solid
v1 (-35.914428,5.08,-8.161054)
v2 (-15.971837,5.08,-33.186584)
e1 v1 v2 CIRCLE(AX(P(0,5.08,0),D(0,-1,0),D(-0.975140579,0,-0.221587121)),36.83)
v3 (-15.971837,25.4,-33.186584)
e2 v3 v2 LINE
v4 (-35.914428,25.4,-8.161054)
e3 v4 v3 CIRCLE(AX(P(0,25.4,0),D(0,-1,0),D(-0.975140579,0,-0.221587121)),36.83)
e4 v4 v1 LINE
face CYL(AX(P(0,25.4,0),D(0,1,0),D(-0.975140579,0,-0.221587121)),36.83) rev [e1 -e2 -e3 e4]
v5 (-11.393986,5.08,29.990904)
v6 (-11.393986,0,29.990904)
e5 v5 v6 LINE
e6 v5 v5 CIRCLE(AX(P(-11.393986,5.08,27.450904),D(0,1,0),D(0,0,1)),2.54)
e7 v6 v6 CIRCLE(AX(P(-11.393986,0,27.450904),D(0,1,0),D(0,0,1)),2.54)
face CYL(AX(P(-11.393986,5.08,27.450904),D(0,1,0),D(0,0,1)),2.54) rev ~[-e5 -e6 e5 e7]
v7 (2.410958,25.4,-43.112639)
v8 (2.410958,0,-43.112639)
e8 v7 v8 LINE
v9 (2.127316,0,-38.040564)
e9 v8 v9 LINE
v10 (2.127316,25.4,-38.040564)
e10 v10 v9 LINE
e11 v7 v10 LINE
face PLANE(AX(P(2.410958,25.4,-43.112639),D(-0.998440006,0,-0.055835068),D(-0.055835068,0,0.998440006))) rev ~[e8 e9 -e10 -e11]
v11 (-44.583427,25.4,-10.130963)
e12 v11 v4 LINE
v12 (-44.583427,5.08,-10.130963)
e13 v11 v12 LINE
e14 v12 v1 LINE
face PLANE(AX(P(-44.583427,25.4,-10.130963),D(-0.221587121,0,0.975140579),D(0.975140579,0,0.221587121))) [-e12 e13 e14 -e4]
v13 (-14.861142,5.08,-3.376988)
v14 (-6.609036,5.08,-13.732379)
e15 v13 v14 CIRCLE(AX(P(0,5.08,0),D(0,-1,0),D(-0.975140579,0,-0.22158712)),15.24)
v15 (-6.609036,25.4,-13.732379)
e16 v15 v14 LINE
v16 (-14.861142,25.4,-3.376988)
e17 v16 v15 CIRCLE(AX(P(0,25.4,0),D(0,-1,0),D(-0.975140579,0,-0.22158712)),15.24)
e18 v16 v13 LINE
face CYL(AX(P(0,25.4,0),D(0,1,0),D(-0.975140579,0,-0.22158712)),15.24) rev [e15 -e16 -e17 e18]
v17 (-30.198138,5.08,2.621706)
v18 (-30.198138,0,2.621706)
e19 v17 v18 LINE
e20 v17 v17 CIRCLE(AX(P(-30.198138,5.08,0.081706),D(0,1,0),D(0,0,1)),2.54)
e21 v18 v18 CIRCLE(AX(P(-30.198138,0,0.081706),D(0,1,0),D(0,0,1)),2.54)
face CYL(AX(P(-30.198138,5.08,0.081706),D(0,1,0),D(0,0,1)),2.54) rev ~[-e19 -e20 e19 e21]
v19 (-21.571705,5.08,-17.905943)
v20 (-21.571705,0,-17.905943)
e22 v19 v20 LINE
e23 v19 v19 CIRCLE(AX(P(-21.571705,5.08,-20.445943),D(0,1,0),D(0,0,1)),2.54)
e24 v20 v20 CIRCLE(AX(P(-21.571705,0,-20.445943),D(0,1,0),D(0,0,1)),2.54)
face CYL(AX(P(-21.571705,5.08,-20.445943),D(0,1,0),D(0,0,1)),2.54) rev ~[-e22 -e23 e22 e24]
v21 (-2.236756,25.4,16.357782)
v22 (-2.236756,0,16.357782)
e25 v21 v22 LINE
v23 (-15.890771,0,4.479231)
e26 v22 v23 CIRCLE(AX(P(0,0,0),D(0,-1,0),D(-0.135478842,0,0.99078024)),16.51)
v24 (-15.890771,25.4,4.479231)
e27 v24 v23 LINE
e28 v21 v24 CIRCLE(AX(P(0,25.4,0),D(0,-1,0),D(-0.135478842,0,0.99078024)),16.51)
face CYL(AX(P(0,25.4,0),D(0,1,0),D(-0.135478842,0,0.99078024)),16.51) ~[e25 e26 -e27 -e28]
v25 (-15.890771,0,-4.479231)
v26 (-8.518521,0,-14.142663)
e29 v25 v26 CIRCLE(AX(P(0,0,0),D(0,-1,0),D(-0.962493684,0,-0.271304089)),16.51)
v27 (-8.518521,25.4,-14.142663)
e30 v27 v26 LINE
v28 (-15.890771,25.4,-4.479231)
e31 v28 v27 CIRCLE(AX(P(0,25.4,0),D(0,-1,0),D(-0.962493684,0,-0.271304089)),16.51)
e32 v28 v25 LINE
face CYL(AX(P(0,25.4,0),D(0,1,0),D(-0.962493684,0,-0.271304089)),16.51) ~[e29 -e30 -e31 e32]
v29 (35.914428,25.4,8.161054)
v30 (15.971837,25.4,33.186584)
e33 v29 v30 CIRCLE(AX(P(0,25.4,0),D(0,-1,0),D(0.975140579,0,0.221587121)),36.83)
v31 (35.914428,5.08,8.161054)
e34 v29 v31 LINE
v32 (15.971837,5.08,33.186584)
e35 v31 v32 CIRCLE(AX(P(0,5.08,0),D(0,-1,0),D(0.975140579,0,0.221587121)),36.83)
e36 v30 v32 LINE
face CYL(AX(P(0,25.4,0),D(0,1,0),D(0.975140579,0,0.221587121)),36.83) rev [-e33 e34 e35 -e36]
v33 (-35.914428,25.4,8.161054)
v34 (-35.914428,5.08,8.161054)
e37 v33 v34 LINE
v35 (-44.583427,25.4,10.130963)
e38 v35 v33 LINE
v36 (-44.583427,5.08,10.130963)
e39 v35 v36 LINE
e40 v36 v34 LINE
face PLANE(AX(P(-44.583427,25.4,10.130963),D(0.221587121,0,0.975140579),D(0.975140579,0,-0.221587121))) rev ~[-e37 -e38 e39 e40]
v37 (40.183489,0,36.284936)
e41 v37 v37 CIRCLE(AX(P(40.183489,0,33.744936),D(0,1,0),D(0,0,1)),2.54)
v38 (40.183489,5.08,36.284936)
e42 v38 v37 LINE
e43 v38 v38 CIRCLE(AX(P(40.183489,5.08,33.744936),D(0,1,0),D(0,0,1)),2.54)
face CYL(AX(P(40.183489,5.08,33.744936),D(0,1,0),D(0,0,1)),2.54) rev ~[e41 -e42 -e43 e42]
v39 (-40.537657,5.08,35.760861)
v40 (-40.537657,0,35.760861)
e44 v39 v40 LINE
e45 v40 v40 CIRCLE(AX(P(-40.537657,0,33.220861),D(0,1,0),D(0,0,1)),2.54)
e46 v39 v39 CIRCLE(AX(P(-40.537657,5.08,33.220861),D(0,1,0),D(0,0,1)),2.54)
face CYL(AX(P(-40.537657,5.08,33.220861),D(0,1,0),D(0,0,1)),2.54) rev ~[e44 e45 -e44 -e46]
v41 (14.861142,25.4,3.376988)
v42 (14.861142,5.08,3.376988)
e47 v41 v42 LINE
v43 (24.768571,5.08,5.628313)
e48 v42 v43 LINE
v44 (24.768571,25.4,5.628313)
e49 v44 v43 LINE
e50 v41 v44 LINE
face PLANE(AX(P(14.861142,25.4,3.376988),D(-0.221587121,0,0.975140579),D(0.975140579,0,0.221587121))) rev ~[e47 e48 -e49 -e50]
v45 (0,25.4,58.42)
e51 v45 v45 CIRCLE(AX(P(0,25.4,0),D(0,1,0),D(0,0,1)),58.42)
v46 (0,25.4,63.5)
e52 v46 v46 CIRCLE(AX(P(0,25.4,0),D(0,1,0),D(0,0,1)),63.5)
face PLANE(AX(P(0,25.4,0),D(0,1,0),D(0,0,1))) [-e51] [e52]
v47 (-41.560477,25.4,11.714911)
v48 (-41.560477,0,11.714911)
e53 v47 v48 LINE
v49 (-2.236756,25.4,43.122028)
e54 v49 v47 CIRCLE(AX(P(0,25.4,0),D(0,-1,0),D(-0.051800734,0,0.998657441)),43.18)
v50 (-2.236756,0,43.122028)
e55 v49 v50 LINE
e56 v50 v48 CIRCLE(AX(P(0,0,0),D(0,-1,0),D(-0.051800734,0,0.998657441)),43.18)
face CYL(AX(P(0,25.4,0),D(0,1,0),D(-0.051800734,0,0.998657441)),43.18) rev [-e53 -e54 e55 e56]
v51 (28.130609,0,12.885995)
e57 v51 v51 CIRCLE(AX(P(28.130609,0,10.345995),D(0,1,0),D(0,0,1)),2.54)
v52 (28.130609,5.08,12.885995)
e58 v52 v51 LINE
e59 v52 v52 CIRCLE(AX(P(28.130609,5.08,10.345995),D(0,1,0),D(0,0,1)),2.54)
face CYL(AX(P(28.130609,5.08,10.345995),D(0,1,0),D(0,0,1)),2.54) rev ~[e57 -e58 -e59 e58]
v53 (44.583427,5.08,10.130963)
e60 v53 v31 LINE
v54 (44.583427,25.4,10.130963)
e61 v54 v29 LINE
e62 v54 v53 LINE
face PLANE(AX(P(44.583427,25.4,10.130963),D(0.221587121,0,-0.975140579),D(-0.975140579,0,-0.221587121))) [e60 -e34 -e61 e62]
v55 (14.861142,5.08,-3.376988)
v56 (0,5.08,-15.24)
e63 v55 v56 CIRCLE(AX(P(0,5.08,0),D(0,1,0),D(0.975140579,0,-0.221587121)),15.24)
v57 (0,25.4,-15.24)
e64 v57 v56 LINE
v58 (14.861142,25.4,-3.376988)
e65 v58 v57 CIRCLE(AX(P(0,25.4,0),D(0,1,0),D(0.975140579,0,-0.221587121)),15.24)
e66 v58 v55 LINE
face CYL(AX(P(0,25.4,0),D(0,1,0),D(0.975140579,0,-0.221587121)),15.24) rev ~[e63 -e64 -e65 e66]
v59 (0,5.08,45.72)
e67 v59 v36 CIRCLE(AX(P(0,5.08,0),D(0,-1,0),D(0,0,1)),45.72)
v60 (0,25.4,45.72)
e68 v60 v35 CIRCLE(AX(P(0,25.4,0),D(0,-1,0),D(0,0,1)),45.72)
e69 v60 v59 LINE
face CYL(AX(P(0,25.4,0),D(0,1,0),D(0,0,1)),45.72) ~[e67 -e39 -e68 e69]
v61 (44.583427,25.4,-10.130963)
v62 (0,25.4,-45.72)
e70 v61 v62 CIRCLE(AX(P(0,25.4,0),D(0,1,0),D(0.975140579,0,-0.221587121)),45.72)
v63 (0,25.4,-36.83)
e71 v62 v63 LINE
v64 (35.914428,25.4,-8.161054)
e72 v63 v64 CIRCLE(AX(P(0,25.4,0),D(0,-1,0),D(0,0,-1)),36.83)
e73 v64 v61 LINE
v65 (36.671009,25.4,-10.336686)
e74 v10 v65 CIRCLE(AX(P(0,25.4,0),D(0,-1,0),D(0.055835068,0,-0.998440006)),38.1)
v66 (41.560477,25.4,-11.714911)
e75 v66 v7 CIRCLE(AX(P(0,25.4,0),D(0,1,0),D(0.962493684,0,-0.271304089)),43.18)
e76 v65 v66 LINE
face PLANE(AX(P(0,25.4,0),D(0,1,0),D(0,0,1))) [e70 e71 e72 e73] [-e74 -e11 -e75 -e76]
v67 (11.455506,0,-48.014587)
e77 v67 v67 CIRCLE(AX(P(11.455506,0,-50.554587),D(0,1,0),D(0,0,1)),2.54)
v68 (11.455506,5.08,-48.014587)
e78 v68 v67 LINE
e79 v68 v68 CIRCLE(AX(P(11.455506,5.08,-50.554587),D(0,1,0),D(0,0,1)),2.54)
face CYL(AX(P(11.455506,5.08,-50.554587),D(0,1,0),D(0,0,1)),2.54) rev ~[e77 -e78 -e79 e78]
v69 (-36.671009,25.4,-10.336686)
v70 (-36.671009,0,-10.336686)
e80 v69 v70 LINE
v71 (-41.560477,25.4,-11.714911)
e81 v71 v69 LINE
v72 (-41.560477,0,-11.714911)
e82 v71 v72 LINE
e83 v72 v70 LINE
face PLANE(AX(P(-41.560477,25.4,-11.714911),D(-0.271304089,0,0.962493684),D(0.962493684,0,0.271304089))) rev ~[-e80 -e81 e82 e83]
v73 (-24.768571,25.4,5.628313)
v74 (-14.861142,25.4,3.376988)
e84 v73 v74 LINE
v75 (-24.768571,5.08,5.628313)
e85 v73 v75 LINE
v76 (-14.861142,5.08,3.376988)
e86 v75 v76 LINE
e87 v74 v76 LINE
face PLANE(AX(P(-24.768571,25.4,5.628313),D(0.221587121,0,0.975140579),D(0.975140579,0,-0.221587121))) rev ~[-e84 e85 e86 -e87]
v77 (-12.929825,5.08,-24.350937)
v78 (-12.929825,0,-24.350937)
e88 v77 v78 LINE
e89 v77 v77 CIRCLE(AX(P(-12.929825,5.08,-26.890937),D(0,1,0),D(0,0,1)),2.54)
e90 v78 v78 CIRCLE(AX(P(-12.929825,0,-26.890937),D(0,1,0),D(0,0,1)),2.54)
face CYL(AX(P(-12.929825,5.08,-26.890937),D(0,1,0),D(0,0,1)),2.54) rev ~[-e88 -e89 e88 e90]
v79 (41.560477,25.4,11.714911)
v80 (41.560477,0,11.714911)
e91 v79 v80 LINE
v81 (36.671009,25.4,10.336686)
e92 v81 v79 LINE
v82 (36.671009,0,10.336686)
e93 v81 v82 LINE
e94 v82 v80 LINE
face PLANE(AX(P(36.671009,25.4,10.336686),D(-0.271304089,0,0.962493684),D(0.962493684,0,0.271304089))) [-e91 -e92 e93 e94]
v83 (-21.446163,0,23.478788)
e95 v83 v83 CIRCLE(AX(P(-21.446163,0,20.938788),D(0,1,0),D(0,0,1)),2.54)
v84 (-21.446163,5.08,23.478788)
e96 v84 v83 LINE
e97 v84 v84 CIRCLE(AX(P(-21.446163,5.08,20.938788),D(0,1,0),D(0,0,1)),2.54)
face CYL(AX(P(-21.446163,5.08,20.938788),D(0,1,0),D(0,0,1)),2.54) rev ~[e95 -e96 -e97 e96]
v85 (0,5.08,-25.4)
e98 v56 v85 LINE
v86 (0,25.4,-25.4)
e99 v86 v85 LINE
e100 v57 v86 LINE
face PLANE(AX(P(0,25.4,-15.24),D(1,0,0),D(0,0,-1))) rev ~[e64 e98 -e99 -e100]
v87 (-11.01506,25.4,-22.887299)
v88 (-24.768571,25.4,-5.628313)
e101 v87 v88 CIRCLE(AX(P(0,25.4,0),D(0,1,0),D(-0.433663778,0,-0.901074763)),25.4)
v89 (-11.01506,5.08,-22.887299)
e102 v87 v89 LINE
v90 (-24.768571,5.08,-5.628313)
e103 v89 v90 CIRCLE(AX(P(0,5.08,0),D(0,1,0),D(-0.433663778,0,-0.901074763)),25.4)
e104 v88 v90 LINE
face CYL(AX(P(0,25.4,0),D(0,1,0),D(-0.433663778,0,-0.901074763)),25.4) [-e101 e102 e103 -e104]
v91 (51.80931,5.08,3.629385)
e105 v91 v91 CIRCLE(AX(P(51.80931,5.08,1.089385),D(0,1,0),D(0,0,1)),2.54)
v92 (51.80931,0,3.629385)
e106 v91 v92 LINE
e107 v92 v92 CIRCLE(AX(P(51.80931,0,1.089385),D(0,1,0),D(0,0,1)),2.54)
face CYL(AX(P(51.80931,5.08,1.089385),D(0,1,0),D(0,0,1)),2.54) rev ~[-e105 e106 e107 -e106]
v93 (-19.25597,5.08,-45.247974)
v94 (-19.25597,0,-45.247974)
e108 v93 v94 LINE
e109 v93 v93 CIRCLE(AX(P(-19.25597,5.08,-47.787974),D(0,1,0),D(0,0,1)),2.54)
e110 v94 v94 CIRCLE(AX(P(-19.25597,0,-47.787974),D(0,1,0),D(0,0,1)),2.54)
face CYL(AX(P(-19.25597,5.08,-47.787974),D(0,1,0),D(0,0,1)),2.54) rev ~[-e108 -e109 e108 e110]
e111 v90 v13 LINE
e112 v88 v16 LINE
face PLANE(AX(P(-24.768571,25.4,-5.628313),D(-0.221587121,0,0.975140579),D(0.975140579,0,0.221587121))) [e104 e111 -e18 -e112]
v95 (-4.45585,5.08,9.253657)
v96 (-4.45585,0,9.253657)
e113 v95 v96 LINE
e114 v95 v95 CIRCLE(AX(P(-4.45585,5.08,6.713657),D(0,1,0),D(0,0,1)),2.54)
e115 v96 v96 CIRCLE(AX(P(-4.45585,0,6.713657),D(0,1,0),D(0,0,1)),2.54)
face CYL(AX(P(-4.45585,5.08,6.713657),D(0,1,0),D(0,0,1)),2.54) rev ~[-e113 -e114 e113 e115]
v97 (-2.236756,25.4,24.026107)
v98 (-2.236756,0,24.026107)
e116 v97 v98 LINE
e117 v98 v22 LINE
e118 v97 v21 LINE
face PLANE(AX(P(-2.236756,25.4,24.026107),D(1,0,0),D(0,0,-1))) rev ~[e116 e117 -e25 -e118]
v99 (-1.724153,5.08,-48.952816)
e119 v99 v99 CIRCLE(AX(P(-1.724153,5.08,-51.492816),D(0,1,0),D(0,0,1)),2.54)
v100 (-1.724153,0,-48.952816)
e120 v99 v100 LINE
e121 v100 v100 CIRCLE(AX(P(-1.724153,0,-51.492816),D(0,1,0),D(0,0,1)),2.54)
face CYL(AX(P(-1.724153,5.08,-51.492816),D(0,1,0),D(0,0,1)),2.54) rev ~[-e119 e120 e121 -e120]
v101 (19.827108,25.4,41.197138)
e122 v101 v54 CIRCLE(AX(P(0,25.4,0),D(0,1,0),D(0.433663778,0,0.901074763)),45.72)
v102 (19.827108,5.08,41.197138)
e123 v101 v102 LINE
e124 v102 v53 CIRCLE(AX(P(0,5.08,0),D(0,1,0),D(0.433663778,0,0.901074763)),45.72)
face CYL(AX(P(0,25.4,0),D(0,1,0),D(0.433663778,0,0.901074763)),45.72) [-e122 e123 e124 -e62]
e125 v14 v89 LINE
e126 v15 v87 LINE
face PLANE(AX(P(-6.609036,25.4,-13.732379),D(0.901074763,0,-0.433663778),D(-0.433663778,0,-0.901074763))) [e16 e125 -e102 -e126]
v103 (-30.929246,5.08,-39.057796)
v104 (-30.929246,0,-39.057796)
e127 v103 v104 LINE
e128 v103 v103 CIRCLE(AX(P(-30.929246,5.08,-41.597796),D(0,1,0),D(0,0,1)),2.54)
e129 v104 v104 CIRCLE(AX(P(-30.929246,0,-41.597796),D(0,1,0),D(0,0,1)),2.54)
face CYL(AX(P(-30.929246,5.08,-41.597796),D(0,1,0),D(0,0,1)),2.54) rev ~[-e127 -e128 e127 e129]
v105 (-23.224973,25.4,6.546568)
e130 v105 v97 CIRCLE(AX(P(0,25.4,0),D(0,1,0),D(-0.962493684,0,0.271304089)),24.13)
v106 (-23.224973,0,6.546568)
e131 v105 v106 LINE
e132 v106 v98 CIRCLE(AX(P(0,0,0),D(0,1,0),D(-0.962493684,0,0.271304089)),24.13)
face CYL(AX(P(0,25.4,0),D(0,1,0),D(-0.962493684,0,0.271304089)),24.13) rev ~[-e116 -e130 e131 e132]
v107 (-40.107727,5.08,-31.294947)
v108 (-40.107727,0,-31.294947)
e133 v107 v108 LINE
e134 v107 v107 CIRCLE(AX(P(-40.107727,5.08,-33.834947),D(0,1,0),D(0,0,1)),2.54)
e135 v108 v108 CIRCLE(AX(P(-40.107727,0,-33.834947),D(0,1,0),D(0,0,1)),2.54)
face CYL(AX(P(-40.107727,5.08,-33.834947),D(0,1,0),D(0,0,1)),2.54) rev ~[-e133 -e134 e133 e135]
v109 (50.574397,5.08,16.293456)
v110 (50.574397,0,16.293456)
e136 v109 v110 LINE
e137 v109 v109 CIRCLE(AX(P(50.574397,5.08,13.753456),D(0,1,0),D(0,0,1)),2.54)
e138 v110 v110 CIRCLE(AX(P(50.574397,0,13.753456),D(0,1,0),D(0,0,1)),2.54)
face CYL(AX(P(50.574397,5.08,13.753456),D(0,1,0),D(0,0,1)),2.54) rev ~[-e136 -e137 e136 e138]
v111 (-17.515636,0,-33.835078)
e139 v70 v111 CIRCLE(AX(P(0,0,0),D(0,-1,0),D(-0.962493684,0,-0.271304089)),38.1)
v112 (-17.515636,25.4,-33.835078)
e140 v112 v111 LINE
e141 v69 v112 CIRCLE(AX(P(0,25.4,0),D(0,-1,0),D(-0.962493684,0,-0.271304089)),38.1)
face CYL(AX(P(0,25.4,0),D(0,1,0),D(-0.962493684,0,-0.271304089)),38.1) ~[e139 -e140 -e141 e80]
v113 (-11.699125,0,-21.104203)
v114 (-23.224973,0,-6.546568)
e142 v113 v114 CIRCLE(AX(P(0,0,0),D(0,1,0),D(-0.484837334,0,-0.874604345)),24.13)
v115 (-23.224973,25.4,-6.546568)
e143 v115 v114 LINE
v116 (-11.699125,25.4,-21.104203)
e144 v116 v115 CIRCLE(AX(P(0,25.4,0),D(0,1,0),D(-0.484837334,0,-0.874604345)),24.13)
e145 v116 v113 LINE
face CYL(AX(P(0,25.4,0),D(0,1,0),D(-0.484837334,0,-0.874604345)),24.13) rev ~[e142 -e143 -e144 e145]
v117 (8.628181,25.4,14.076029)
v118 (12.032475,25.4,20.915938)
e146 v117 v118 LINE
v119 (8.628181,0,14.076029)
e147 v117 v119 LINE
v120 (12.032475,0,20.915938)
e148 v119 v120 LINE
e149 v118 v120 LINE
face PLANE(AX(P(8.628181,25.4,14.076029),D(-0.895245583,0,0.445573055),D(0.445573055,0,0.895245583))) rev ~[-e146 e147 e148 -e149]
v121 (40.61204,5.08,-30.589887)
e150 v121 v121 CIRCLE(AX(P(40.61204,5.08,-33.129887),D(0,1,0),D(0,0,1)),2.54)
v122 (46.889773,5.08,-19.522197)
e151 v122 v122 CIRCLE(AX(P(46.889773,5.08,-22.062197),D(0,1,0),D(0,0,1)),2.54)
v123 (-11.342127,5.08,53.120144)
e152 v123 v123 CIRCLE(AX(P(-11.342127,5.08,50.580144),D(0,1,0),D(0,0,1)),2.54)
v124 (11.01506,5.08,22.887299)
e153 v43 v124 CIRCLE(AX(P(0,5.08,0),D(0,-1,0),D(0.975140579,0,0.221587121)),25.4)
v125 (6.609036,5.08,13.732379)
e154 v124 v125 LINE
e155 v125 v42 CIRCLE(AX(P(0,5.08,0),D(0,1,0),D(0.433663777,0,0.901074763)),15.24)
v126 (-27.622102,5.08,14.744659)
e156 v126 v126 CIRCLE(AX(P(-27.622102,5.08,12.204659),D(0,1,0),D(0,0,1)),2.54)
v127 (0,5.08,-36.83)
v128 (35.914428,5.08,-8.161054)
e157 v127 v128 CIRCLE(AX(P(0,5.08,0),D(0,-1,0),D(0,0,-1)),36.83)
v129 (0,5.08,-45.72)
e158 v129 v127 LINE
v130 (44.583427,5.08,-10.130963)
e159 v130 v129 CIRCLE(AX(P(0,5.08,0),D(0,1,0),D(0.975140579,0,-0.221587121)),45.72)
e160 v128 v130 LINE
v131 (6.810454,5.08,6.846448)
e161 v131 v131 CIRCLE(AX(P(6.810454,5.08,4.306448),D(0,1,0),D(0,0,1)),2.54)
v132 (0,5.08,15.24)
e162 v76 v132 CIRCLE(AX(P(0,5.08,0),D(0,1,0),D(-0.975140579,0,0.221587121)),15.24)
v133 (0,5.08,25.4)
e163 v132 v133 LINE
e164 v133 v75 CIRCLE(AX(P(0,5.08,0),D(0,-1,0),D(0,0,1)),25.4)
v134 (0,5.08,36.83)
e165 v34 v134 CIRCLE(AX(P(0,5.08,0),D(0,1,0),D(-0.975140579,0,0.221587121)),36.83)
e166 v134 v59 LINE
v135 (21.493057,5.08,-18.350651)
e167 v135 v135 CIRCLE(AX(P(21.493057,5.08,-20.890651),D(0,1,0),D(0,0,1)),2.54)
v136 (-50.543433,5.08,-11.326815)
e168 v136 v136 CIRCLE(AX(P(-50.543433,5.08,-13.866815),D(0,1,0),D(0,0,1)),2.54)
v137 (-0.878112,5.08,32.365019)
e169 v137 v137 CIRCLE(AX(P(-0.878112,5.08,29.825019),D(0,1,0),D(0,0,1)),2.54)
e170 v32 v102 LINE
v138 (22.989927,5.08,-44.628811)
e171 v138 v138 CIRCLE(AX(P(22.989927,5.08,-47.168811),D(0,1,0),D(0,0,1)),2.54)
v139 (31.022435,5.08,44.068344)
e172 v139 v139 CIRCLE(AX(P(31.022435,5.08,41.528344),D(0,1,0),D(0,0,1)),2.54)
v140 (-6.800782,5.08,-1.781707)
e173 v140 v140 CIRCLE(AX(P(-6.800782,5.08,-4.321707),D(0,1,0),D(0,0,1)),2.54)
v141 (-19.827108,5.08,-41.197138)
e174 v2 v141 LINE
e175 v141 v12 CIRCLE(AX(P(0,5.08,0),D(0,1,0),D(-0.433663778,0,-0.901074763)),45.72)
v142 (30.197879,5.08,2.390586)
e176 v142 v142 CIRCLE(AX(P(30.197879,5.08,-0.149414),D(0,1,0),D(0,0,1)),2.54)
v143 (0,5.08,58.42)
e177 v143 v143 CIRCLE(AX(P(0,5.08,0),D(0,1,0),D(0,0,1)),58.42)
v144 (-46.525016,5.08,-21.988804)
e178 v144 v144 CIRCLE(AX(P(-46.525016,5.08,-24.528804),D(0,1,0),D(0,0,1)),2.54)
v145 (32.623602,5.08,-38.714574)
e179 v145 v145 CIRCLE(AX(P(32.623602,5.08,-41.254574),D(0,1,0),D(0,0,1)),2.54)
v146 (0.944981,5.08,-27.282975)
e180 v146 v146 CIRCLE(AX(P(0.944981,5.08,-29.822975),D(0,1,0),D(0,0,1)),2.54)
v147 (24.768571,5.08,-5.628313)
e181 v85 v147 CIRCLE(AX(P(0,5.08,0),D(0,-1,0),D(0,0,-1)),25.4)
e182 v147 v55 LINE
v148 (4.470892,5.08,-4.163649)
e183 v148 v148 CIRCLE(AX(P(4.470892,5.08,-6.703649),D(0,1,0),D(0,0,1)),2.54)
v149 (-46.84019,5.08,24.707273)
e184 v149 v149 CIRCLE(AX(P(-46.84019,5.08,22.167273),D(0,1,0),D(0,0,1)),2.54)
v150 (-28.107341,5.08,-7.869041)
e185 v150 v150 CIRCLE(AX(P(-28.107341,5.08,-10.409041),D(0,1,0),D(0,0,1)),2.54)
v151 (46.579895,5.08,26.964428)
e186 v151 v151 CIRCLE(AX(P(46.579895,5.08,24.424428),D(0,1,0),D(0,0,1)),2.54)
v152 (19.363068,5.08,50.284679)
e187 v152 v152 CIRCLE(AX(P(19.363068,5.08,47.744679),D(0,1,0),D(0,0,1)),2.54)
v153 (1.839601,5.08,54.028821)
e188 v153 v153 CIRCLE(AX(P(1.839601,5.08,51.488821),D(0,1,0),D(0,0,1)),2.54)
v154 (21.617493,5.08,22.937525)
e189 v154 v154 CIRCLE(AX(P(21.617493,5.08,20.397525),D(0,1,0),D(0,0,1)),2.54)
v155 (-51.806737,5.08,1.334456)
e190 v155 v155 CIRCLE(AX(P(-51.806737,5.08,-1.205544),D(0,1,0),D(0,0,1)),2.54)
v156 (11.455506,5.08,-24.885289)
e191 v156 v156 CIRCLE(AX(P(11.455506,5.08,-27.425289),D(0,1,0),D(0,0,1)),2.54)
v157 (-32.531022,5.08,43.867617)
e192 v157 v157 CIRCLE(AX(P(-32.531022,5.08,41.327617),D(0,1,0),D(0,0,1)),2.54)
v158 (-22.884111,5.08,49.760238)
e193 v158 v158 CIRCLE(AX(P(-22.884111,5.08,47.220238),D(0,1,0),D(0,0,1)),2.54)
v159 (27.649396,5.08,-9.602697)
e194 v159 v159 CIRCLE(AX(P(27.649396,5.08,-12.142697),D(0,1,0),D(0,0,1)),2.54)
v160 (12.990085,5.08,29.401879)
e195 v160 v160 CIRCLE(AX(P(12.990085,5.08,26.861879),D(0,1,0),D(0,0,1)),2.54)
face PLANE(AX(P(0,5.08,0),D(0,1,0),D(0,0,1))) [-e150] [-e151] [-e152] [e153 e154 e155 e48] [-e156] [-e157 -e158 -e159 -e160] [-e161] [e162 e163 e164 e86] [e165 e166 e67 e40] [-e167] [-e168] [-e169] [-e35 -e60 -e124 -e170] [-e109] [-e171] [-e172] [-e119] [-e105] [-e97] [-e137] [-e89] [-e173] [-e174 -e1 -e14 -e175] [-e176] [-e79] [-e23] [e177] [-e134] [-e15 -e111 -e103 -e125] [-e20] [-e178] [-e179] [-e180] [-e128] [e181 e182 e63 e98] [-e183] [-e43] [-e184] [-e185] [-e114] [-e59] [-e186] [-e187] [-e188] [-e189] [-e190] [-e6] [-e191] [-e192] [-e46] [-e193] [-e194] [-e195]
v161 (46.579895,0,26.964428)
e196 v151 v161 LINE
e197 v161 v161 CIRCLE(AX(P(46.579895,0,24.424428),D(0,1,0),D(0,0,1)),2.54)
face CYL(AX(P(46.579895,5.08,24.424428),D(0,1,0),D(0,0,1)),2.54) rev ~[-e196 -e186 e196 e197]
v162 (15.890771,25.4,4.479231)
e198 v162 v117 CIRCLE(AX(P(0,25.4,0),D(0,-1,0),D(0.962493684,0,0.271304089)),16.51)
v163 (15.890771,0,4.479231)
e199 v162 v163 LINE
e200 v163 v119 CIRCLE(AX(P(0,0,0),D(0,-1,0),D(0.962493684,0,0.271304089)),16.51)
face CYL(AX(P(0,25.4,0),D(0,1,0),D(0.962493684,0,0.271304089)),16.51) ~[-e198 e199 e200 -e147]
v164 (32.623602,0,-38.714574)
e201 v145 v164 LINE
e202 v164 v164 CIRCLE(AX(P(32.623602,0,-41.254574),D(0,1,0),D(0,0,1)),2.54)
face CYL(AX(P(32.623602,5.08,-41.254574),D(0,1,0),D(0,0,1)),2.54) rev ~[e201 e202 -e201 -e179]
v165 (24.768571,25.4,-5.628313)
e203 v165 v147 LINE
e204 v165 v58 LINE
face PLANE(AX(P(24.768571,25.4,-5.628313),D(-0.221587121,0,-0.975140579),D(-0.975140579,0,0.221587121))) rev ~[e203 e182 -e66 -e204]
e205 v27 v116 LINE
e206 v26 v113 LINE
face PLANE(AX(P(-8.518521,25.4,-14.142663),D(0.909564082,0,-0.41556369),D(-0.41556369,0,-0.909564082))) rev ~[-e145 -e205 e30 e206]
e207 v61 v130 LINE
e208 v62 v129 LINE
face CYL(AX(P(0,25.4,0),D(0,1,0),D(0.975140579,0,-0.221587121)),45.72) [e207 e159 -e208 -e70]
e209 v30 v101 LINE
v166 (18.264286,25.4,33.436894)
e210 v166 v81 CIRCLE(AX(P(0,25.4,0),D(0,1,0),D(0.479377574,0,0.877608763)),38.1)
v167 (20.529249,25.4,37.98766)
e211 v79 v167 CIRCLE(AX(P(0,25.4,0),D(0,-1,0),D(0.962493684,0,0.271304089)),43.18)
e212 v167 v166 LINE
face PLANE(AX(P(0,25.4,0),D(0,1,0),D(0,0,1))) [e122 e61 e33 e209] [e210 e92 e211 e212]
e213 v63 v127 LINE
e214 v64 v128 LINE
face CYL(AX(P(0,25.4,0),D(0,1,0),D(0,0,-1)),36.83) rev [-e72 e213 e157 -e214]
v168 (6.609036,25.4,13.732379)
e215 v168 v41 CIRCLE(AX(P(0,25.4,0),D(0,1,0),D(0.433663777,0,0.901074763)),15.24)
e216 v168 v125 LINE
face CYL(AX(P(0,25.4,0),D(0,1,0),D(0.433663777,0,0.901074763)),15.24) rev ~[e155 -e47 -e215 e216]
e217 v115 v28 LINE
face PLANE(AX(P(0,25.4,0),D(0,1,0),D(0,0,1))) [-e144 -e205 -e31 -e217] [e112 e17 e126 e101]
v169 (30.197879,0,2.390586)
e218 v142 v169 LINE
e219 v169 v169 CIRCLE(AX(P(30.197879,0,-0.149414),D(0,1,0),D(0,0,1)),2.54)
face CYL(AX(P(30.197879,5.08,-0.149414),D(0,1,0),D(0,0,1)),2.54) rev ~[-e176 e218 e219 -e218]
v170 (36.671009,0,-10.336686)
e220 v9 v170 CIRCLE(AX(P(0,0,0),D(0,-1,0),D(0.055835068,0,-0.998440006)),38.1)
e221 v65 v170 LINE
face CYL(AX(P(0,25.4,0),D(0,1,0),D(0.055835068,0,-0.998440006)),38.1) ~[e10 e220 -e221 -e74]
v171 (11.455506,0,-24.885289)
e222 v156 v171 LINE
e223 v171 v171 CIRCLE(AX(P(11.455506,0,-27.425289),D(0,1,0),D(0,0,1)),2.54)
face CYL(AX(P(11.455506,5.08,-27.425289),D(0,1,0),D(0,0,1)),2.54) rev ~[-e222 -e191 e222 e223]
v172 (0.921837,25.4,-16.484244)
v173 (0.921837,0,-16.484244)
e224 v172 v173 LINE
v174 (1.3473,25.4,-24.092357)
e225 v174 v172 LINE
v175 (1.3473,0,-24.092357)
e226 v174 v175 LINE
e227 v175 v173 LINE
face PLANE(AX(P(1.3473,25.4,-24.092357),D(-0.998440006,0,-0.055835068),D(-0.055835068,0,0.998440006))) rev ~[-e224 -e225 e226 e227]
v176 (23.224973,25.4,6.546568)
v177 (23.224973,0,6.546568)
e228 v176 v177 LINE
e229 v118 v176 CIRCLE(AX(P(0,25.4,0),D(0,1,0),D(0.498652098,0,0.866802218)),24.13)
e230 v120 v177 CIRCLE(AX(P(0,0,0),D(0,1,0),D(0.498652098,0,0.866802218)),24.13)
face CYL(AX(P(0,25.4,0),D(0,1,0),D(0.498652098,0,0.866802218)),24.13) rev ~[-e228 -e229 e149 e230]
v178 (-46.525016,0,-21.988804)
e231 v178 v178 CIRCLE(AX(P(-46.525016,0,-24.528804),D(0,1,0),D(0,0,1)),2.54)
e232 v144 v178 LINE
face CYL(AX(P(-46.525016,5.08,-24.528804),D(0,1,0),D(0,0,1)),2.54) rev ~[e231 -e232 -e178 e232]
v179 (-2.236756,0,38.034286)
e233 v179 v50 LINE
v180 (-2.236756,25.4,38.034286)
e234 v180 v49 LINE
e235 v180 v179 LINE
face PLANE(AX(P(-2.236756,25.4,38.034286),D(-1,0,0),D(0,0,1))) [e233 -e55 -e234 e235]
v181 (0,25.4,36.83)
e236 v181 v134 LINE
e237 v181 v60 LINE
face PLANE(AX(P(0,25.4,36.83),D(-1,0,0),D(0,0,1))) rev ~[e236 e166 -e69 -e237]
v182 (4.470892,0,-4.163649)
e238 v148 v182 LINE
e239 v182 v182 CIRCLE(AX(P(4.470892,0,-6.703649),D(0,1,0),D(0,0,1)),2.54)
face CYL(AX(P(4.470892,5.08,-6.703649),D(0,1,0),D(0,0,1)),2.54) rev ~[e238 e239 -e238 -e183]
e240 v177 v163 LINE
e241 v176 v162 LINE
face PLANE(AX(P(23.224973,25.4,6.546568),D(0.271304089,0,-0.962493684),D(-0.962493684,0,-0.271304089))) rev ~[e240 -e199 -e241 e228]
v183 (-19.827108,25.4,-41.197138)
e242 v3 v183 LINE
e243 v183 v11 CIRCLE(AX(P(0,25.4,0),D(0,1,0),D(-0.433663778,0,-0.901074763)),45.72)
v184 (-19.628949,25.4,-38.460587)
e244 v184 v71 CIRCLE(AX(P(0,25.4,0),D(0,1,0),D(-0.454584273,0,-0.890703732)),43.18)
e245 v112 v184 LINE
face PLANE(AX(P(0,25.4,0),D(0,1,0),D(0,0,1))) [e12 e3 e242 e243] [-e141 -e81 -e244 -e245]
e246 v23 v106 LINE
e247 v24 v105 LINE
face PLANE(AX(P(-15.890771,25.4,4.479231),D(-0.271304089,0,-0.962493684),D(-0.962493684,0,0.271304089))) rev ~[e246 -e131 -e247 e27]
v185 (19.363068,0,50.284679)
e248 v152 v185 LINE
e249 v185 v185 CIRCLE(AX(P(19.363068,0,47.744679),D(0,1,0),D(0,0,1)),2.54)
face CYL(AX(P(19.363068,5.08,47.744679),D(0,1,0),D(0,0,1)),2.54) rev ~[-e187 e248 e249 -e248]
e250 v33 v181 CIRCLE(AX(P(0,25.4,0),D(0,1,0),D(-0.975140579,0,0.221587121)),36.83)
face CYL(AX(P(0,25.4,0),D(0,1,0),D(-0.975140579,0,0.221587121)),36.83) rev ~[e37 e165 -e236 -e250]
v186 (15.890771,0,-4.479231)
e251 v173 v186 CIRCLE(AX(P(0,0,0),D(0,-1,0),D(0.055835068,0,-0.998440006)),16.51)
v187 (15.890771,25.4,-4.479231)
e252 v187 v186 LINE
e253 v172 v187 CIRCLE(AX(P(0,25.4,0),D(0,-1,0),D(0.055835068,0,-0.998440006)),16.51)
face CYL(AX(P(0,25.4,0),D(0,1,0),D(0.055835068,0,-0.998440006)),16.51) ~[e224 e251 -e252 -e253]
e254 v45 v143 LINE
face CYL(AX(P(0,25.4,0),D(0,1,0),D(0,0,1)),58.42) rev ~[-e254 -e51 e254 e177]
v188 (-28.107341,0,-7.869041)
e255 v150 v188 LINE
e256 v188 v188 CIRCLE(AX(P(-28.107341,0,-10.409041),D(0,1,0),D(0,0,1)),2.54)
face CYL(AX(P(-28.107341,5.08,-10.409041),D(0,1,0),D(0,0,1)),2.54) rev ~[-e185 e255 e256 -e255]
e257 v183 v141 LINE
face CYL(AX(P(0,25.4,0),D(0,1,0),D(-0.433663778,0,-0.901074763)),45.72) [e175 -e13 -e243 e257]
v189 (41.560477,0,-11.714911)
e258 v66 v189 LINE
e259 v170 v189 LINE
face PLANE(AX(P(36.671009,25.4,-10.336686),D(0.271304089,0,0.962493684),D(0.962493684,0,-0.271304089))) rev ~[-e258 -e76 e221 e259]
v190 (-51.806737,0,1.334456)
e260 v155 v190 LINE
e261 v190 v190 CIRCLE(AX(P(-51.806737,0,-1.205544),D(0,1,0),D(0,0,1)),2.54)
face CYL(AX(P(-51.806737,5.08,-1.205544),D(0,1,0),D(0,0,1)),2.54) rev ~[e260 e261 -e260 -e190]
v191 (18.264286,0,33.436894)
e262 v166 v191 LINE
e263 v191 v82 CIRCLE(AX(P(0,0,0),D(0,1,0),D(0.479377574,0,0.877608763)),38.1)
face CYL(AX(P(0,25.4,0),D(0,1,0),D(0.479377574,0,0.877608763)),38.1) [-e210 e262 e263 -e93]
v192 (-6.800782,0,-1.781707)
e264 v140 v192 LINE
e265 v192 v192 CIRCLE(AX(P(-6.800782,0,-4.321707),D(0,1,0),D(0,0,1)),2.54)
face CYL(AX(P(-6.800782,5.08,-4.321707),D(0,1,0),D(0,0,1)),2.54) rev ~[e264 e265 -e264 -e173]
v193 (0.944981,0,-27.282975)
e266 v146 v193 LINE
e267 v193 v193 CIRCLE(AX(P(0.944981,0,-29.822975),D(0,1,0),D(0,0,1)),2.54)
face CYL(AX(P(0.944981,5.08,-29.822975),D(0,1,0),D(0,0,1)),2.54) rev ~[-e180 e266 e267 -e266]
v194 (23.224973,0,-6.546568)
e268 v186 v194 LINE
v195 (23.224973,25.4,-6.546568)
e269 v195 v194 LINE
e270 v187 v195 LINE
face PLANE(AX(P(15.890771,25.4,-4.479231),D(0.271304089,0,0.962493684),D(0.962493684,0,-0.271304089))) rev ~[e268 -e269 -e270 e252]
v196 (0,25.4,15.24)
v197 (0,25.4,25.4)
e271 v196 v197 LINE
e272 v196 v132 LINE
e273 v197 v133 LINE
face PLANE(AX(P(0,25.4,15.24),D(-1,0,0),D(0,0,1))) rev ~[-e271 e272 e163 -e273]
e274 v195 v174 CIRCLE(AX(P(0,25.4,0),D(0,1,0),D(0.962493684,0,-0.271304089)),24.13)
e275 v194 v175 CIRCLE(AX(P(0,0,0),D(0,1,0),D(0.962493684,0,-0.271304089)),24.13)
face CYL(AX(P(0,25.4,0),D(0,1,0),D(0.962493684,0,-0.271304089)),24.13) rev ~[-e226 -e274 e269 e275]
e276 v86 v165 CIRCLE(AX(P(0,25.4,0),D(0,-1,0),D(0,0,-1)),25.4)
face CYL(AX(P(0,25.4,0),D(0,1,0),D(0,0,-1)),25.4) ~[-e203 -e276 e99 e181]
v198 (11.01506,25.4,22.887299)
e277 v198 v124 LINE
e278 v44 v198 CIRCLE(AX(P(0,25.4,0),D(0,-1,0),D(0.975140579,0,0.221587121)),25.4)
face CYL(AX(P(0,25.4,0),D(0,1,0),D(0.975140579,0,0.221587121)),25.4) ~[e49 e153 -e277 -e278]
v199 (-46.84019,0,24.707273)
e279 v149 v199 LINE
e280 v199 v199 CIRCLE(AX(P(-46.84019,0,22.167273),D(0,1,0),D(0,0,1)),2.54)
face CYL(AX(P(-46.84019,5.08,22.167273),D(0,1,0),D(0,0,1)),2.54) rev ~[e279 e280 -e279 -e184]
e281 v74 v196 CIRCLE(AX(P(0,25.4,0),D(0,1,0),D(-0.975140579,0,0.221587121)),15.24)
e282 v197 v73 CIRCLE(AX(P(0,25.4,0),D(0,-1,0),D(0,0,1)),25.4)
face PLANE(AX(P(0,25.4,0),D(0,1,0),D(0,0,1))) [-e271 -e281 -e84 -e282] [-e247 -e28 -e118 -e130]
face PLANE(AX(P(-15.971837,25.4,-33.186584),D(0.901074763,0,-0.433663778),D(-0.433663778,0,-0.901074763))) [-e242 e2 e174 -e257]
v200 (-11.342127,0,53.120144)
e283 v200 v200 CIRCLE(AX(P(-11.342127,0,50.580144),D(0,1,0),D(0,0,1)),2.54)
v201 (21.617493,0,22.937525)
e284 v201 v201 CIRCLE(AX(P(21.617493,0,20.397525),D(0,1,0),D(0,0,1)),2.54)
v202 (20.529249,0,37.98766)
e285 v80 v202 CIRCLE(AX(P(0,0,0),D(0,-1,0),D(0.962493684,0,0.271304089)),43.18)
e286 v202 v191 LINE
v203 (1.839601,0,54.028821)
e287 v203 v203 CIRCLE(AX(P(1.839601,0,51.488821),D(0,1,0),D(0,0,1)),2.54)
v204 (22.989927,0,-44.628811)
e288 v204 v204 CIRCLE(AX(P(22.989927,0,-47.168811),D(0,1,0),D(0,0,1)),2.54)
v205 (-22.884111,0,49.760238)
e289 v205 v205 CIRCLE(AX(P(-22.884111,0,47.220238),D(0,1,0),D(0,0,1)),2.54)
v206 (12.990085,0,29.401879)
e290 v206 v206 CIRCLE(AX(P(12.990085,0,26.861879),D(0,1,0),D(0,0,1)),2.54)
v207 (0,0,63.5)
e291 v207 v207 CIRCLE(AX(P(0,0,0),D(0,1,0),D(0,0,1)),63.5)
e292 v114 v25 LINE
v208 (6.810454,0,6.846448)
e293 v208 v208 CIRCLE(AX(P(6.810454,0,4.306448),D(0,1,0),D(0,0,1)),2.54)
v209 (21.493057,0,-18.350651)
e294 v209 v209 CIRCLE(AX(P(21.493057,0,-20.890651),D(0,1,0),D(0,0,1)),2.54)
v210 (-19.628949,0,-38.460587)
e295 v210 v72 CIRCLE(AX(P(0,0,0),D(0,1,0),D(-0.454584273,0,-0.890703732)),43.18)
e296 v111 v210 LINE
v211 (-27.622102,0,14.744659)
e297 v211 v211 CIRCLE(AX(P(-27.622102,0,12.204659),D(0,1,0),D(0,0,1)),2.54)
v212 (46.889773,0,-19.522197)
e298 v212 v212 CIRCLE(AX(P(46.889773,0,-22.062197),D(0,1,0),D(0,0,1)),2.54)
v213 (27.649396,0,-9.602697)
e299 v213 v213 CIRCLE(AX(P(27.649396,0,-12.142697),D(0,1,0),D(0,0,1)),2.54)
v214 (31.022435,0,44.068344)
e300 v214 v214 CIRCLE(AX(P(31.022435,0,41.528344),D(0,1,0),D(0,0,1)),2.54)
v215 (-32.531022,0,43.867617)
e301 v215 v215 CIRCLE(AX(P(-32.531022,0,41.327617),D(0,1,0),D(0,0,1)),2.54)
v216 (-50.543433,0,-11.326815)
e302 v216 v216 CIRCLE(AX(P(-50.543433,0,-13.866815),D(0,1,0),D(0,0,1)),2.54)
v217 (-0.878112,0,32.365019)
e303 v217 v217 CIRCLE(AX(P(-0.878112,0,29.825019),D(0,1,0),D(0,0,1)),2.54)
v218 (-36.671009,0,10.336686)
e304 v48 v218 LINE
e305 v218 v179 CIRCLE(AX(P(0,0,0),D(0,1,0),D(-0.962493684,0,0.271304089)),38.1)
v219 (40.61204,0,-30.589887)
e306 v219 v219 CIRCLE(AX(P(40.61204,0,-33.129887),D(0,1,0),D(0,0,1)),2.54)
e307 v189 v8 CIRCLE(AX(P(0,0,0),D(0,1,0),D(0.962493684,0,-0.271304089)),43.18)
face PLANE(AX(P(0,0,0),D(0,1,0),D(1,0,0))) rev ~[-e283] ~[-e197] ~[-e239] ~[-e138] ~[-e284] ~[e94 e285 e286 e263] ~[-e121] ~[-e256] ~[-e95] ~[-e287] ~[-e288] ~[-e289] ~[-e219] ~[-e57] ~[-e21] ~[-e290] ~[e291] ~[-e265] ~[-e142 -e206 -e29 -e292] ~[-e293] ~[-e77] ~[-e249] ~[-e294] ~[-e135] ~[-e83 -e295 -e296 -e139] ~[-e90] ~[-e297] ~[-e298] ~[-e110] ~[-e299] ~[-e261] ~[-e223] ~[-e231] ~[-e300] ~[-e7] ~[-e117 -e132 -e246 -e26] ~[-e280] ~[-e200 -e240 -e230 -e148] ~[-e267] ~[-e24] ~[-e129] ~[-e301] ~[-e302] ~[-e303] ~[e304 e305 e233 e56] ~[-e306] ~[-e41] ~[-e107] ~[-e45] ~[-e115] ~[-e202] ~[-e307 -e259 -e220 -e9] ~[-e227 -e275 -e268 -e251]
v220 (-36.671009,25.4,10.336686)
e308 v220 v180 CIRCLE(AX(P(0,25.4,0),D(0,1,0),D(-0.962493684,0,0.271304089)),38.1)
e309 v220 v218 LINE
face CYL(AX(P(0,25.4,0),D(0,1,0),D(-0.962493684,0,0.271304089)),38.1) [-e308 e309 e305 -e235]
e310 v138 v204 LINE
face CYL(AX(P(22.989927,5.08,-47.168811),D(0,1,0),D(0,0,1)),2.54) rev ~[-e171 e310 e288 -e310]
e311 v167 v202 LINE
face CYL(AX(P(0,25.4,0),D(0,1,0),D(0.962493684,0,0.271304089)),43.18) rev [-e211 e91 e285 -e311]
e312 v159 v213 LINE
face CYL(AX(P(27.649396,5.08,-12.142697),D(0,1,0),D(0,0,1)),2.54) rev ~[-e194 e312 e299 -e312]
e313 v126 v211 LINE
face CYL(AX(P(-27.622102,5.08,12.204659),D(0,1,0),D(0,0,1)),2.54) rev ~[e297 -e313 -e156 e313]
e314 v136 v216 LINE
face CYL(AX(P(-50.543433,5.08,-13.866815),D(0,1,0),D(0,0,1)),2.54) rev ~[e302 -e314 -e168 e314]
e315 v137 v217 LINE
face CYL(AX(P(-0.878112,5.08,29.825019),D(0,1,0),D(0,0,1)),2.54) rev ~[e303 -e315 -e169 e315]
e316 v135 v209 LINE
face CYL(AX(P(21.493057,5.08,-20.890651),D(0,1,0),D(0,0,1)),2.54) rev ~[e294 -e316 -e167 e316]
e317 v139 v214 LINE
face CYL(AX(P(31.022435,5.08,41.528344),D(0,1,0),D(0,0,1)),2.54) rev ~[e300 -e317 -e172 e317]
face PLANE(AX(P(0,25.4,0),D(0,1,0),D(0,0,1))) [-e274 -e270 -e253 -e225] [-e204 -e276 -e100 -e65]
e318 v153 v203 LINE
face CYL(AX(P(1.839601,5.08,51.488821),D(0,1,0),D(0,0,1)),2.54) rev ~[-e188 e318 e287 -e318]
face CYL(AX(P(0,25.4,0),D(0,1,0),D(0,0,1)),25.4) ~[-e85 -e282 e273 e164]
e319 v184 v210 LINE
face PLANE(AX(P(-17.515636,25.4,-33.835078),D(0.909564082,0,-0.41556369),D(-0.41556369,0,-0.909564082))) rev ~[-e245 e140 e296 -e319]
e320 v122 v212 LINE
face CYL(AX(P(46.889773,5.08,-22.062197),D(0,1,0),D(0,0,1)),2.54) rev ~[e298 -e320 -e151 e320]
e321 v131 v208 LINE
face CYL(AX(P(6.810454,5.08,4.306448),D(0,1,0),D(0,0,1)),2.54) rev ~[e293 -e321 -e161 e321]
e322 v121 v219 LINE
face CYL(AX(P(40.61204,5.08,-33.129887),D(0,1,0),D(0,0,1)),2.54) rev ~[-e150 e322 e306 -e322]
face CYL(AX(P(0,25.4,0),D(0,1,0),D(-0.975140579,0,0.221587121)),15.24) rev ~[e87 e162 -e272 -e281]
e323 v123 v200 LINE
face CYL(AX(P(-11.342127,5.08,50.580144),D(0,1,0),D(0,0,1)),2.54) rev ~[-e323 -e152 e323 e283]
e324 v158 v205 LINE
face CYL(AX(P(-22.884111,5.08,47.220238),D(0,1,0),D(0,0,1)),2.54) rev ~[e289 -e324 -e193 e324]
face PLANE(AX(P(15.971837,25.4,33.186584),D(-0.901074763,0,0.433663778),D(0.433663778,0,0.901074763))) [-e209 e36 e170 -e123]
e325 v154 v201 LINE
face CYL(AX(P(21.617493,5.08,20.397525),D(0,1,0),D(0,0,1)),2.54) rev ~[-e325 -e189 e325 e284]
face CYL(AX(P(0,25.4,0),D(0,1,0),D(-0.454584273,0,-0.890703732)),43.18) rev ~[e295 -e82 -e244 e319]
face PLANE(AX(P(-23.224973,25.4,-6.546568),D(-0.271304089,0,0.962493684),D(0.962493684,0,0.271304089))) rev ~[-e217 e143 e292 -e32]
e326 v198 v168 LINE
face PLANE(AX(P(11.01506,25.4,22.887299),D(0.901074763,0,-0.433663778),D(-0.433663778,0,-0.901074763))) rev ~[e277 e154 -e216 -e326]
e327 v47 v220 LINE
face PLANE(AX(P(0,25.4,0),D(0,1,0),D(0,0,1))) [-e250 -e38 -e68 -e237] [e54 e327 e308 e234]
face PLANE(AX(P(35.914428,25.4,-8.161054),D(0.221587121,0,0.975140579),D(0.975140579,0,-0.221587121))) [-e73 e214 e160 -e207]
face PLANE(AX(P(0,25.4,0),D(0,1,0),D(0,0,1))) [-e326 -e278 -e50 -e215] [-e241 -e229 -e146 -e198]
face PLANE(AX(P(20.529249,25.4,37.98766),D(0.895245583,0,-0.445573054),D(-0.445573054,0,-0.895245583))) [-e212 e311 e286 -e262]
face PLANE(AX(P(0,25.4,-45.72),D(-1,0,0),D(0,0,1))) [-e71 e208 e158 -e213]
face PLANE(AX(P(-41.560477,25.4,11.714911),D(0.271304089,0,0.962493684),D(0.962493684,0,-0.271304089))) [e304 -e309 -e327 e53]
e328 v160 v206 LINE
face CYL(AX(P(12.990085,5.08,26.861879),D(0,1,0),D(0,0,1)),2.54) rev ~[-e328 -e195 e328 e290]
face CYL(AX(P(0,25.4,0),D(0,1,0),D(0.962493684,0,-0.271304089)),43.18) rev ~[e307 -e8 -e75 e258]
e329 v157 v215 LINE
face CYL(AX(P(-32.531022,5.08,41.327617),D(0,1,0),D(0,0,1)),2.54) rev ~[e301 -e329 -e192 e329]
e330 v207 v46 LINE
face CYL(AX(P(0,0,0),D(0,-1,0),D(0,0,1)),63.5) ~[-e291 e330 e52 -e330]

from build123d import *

# Parameters (mm, degrees)
SKETCH1_R           = 63.5
SKETCH1_R_2         = 38.1
SKETCH1_R_3         = 12.7
BOSS_EXTRUDE1_DEPTH = 25.4
SKETCH2_R           = 58.42
CUT_EXTRUDE3_DEPTH  = 20.32
CUT_EXTRUDE4_DEPTH  = 25.4
SKETCH4_R           = 2.54
CUT_EXTRUDE5_DEPTH  = 25.4


with BuildPart() as part:
    # Sketch1 → Boss-Extrude1 (new body)
    # profile 1 of 3: a face of its own
    with BuildSketch(Plane(origin=(0, 0, 0), x_dir=(1, 0, 0), z_dir=(0, 1, 0))):
        with Locations(Location((0, 0, 0), (0, 0, 270))):
            Circle(SKETCH1_R)
        Circle(SKETCH1_R_2, mode=Mode.SUBTRACT)
    # profile 2 of 3: a face of its own
    with BuildSketch(Plane(origin=(0, 0, 0), x_dir=(1, 0, 0), z_dir=(0, 1, 0))):
        Circle(SKETCH1_R_2)
        Circle(SKETCH1_R_3, mode=Mode.SUBTRACT)
    # profile 3 of 3: a face of its own
    with BuildSketch(Plane(origin=(0, 0, 0), x_dir=(1, 0, 0), z_dir=(0, 1, 0))):
        Circle(SKETCH1_R_3)
    extrude(amount=BOSS_EXTRUDE1_DEPTH)

    # Sketch2 → Cut-Extrude3 (cut)
    with BuildSketch(Plane(origin=(0, 25.4, 0), x_dir=(1, 0, 0), z_dir=(0, 1, 0))):
        with Locations(Location((0, 0, 0), (0, 0, 270))):
            Circle(SKETCH2_R)
        with BuildLine():
            Line((0, 15.24), (0, 25.4))
            ThreePointArc((0, 25.4), (15.846148637, 19.850933816), (24.768570696, 5.628312864))
            Line((24.768570696, 5.628312864), (14.861142417, 3.376987718))
            ThreePointArc((14.861142417, 3.376987718), (9.507689182, 11.91056029), (0, 15.24))
        make_face(mode=Mode.SUBTRACT)
        with BuildLine():
            Line((0, -15.24), (0, -25.4))
            ThreePointArc((0, -25.4), (-15.846148637, -19.850933816), (-24.768570696, -5.628312864))
            Line((-24.768570696, -5.628312864), (-14.861142417, -3.376987718))
            ThreePointArc((-14.861142417, -3.376987718), (-9.507689182, -11.91056029), (0, -15.24))
        make_face(mode=Mode.SUBTRACT)
        with BuildLine():
            Line((-44.583427252, 10.130963155), (-35.914427509, 8.161053652))
            ThreePointArc((-35.914427509, 8.161053652), (-28.803044899, 22.952853952), (-15.971836927, 33.186583512))
            Line((-15.971836927, 33.186583512), (-19.827107909, 41.197138152))
            ThreePointArc((-19.827107909, 41.197138152), (-35.755504013, 28.493198009), (-44.583427252, 10.130963155))
        make_face(mode=Mode.SUBTRACT)
        with BuildLine():
            Line((-44.583427252, -10.130963155), (-35.914427509, -8.161053652))
            ThreePointArc((-35.914427509, -8.161053652), (-22.976915524, -28.783854033), (0, -36.83))
            Line((0, -36.83), (0, -45.72))
            ThreePointArc((0, -45.72), (-28.523067547, -35.731680869), (-44.583427252, -10.130963155))
        make_face(mode=Mode.SUBTRACT)
        with BuildLine():
            Line((-24.768570696, 5.628312864), (-14.861142417, 3.376987718))
            ThreePointArc((-14.861142417, 3.376987718), (-11.918501338, 9.49773267), (-6.60903597, 13.732379384))
            Line((-6.60903597, 13.732379384), (-11.01505995, 22.887298974))
            ThreePointArc((-11.01505995, 22.887298974), (-19.864168896, 15.82955445), (-24.768570696, 5.628312864))
        make_face(mode=Mode.SUBTRACT)
        with BuildLine():
            Line((15.971836927, -33.186583512), (19.827107909, -41.197138152))
            ThreePointArc((19.827107909, -41.197138152), (35.755504013, -28.493198009), (44.583427252, -10.130963155))
            Line((44.583427252, -10.130963155), (35.914427509, -8.161053652))
            ThreePointArc((35.914427509, -8.161053652), (28.803044899, -22.952853952), (15.971836927, -33.186583512))
        make_face(mode=Mode.SUBTRACT)
        with BuildLine():
            Line((35.914427509, 8.161053652), (44.583427252, 10.130963155))
            ThreePointArc((44.583427252, 10.130963155), (28.523067547, 35.731680869), (0, 45.72))
            Line((0, 45.72), (0, 36.83))
            ThreePointArc((0, 36.83), (22.976915524, 28.783854033), (35.914427509, 8.161053652))
        make_face(mode=Mode.SUBTRACT)
        with BuildLine():
            Line((14.861142417, -3.376987718), (24.768570696, -5.628312864))
            ThreePointArc((24.768570696, -5.628312864), (19.864168896, -15.82955445), (11.01505995, -22.887298974))
            Line((11.01505995, -22.887298974), (6.60903597, -13.732379384))
            ThreePointArc((6.60903597, -13.732379384), (11.918501338, -9.49773267), (14.861142417, -3.376987718))
        make_face(mode=Mode.SUBTRACT)
    extrude(amount=-CUT_EXTRUDE3_DEPTH, mode=Mode.SUBTRACT)

    # Sketch3 → Cut-Extrude4 (cut)
    with BuildSketch(Plane(origin=(0, 25.4, 0), x_dir=(1, 0, 0), z_dir=(0, 1, 0))):
        with BuildLine():
            Line((-41.560477266, 11.71491056), (-36.671009352, 10.336685788))
            ThreePointArc((-36.671009352, 10.336685788), (-29.531199398, 24.073185541), (-17.515635832, 33.835077972))
            Line((-17.515635832, 33.835077972), (-19.628948908, 38.460587161))
            ThreePointArc((-19.628948908, 38.460587161), (-33.389658176, 27.379611518), (-41.560477266, 11.71491056))
        make_face()
        with BuildLine():
            Line((2.410958238, 43.11263945), (2.127316092, 38.040564221))
            ThreePointArc((2.127316092, 38.040564221), (23.837024445, 29.722151093), (36.671009352, 10.336685788))
            Line((36.671009352, 10.336685788), (41.560477266, 11.71491056))
            ThreePointArc((41.560477266, 11.71491056), (27.015294371, 33.685104572), (2.410958238, 43.11263945))
        make_face()
        with BuildLine():
            Line((-41.560477266, -11.71491056), (-36.671009352, -10.336685788))
            ThreePointArc((-36.671009352, -10.336685788), (-23.879757361, -29.68782896), (-2.236755681, -38.034286164))
            Line((-2.236755681, -38.034286164), (-2.236755681, -43.122028292))
            ThreePointArc((-2.236755681, -43.122028292), (-26.947192145, -33.739609296), (-41.560477266, -11.71491056))
        make_face()
        with BuildLine():
            Line((8.628181311, -14.076028817), (12.032475138, -20.915937513))
            ThreePointArc((12.032475138, -20.915937513), (19.036585895, -14.827855458), (23.22497259, -6.546567666))
            Line((23.22497259, -6.546567666), (15.890770719, -4.479230508))
            ThreePointArc((15.890770719, -4.479230508), (13.165082097, -9.962967097), (8.628181311, -14.076028817))
        make_face()
        with BuildLine():
            Line((-23.22497259, 6.546567666), (-15.890770719, 4.479230508))
            ThreePointArc((-15.890770719, 4.479230508), (-13.126265899, 10.014052304), (-8.518520663, 14.142662611))
            Line((-8.518520663, 14.142662611), (-11.69912487, 21.104202834))
            ThreePointArc((-11.69912487, 21.104202834), (-18.918359635, 14.978403411), (-23.22497259, 6.546567666))
        make_face()
        with BuildLine():
            Line((1.347300192, 24.09235734), (0.921836973, 16.484244496))
            ThreePointArc((0.921836973, 16.484244496), (10.329377259, 12.879598807), (15.890770719, 4.479230508))
            Line((15.890770719, 4.479230508), (23.22497259, 6.546567666))
            ThreePointArc((23.22497259, 6.546567666), (15.096782148, 18.824029026), (1.347300192, 24.09235734))
        make_face()
        with BuildLine():
            Line((36.671009352, -10.336685788), (41.560477266, -11.71491056))
            ThreePointArc((41.560477266, -11.71491056), (33.709759421, -26.984523708), (20.529249355, -37.987660114))
            Line((20.529249355, -37.987660114), (18.264285582, -33.436893877))
            ThreePointArc((18.264285582, -33.436893877), (29.797257606, -23.743071393), (36.671009352, -10.336685788))
        make_face()
        with BuildLine():
            Line((-2.236755681, -24.026107134), (-2.236755681, -16.357781757))
            ThreePointArc((-2.236755681, -16.357781757), (-10.836364625, -12.456054821), (-15.890770719, -4.479230508))
            Line((-15.890770719, -4.479230508), (-23.22497259, -6.546567666))
            ThreePointArc((-23.22497259, -6.546567666), (-15.442100785, -18.541802053), (-2.236755681, -24.026107134))
        make_face()
    extrude(amount=-CUT_EXTRUDE4_DEPTH, mode=Mode.SUBTRACT)

    # Sketch4 → Cut-Extrude5 (cut)
    with BuildSketch(Plane(origin=(0, 5.08, 0), x_dir=(1, 0, 0), z_dir=(0, 1, 0))):
        with Locations(Location((-1.724152615, 51.49281591, 0), (0, 0, 270))):
            Circle(SKETCH4_R)
        with Locations(Location((11.455505559, 50.554586805, 0), (0, 0, 270))):
            Circle(SKETCH4_R)
        with Locations(Location((22.989926713, 47.168810965, 0), (0, 0, 270))):
            Circle(SKETCH4_R)
        with Locations(Location((32.623601803, 41.254574374, 0), (0, 0, 270))):
            Circle(SKETCH4_R)
        with Locations(Location((40.612039872, 33.129886899, 0), (0, 0, 270))):
            Circle(SKETCH4_R)
        with Locations(Location((46.889773478, 22.062196609, 0), (0, 0, 270))):
            Circle(SKETCH4_R)
        with Locations(Location((0.944980786, 29.822975433, 0), (0, 0, 270))):
            Circle(SKETCH4_R)
        with Locations(Location((11.455505559, 27.425288656, 0), (0, 0, 270))):
            Circle(SKETCH4_R)
        with Locations(Location((21.49305655, 20.890650515, 0), (0, 0, 270))):
            Circle(SKETCH4_R)
        with Locations(Location((27.649396358, 12.142696745, 0), (0, 0, 270))):
            Circle(SKETCH4_R)
        with Locations(Location((4.47089158, 6.703649275, 0), (0, 0, 270))):
            Circle(SKETCH4_R)
        with Locations(Location((-6.800781702, 4.321707228, 0), (0, 0, 270))):
            Circle(SKETCH4_R)
        with Locations(Location((-30.198137813, -0.081706015, 0), (0, 0, 270))):
            Circle(SKETCH4_R)
        with Locations(Location((-28.107340926, 10.409041498, 0), (0, 0, 270))):
            Circle(SKETCH4_R)
        with Locations(Location((-21.571705433, 20.445943123, 0), (0, 0, 270))):
            Circle(SKETCH4_R)
        with Locations(Location((-12.9298253, 26.890936578, 0), (0, 0, 270))):
            Circle(SKETCH4_R)
        with Locations(Location((-51.806737387, 1.205544426, 0), (0, 0, 270))):
            Circle(SKETCH4_R)
        with Locations(Location((-50.543433135, 13.866814898, 0), (0, 0, 270))):
            Circle(SKETCH4_R)
        with Locations(Location((-46.525015628, 24.528803929, 0), (0, 0, 270))):
            Circle(SKETCH4_R)
        with Locations(Location((-40.107727488, 33.834947228, 0), (0, 0, 270))):
            Circle(SKETCH4_R)
        with Locations(Location((-30.92924558, 41.597795885, 0), (0, 0, 270))):
            Circle(SKETCH4_R)
        with Locations(Location((-19.255969941, 47.787973531, 0), (0, 0, 270))):
            Circle(SKETCH4_R)
        with Locations(Location((1.839601167, -51.488820729, 0), (0, 0, 270))):
            Circle(SKETCH4_R)
        with Locations(Location((-11.342127499, -50.58014431, 0), (0, 0, 270))):
            Circle(SKETCH4_R)
        with Locations(Location((-22.884110964, -47.220238495, 0), (0, 0, 270))):
            Circle(SKETCH4_R)
        with Locations(Location((-32.531022245, -41.32761659, 0), (0, 0, 270))):
            Circle(SKETCH4_R)
        with Locations(Location((-40.53765673, -33.220860545, 0), (0, 0, 270))):
            Circle(SKETCH4_R)
        with Locations(Location((-46.840189607, -22.167273483, 0), (0, 0, 270))):
            Circle(SKETCH4_R)
        with Locations(Location((-0.87811183, -29.825019228, 0), (0, 0, 270))):
            Circle(SKETCH4_R)
        with Locations(Location((-11.393986077, -27.450904298, 0), (0, 0, 270))):
            Circle(SKETCH4_R)
        with Locations(Location((-21.446163257, -20.938787939, 0), (0, 0, 270))):
            Circle(SKETCH4_R)
        with Locations(Location((-27.622101521, -12.204659388, 0), (0, 0, 270))):
            Circle(SKETCH4_R)
        with Locations(Location((-4.45584998, -6.713656684, 0), (0, 0, 270))):
            Circle(SKETCH4_R)
        with Locations(Location((6.810454379, -4.306448221, 0), (0, 0, 270))):
            Circle(SKETCH4_R)
        with Locations(Location((30.197878714, 0.149413549, 0), (0, 0, 270))):
            Circle(SKETCH4_R)
        with Locations(Location((28.130608559, -10.345995405, 0), (0, 0, 270))):
            Circle(SKETCH4_R)
        with Locations(Location((21.617493395, -20.397525457, 0), (0, 0, 270))):
            Circle(SKETCH4_R)
        with Locations(Location((12.990085409, -26.861878814, 0), (0, 0, 270))):
            Circle(SKETCH4_R)
        with Locations(Location((51.809310139, -1.089384662, 0), (0, 0, 270))):
            Circle(SKETCH4_R)
        with Locations(Location((50.574397104, -13.753455785, 0), (0, 0, 270))):
            Circle(SKETCH4_R)
        with Locations(Location((46.579895118, -24.424427775, 0), (0, 0, 270))):
            Circle(SKETCH4_R)
        with Locations(Location((40.183488564, -33.74493599, 0), (0, 0, 270))):
            Circle(SKETCH4_R)
        with Locations(Location((31.022434937, -41.528344359, 0), (0, 0, 270))):
            Circle(SKETCH4_R)
        with Locations(Location((19.363067737, -47.744679288, 0), (0, 0, 270))):
            Circle(SKETCH4_R)
    extrude(amount=-CUT_EXTRUDE5_DEPTH, mode=Mode.SUBTRACT)


solid = part.part
